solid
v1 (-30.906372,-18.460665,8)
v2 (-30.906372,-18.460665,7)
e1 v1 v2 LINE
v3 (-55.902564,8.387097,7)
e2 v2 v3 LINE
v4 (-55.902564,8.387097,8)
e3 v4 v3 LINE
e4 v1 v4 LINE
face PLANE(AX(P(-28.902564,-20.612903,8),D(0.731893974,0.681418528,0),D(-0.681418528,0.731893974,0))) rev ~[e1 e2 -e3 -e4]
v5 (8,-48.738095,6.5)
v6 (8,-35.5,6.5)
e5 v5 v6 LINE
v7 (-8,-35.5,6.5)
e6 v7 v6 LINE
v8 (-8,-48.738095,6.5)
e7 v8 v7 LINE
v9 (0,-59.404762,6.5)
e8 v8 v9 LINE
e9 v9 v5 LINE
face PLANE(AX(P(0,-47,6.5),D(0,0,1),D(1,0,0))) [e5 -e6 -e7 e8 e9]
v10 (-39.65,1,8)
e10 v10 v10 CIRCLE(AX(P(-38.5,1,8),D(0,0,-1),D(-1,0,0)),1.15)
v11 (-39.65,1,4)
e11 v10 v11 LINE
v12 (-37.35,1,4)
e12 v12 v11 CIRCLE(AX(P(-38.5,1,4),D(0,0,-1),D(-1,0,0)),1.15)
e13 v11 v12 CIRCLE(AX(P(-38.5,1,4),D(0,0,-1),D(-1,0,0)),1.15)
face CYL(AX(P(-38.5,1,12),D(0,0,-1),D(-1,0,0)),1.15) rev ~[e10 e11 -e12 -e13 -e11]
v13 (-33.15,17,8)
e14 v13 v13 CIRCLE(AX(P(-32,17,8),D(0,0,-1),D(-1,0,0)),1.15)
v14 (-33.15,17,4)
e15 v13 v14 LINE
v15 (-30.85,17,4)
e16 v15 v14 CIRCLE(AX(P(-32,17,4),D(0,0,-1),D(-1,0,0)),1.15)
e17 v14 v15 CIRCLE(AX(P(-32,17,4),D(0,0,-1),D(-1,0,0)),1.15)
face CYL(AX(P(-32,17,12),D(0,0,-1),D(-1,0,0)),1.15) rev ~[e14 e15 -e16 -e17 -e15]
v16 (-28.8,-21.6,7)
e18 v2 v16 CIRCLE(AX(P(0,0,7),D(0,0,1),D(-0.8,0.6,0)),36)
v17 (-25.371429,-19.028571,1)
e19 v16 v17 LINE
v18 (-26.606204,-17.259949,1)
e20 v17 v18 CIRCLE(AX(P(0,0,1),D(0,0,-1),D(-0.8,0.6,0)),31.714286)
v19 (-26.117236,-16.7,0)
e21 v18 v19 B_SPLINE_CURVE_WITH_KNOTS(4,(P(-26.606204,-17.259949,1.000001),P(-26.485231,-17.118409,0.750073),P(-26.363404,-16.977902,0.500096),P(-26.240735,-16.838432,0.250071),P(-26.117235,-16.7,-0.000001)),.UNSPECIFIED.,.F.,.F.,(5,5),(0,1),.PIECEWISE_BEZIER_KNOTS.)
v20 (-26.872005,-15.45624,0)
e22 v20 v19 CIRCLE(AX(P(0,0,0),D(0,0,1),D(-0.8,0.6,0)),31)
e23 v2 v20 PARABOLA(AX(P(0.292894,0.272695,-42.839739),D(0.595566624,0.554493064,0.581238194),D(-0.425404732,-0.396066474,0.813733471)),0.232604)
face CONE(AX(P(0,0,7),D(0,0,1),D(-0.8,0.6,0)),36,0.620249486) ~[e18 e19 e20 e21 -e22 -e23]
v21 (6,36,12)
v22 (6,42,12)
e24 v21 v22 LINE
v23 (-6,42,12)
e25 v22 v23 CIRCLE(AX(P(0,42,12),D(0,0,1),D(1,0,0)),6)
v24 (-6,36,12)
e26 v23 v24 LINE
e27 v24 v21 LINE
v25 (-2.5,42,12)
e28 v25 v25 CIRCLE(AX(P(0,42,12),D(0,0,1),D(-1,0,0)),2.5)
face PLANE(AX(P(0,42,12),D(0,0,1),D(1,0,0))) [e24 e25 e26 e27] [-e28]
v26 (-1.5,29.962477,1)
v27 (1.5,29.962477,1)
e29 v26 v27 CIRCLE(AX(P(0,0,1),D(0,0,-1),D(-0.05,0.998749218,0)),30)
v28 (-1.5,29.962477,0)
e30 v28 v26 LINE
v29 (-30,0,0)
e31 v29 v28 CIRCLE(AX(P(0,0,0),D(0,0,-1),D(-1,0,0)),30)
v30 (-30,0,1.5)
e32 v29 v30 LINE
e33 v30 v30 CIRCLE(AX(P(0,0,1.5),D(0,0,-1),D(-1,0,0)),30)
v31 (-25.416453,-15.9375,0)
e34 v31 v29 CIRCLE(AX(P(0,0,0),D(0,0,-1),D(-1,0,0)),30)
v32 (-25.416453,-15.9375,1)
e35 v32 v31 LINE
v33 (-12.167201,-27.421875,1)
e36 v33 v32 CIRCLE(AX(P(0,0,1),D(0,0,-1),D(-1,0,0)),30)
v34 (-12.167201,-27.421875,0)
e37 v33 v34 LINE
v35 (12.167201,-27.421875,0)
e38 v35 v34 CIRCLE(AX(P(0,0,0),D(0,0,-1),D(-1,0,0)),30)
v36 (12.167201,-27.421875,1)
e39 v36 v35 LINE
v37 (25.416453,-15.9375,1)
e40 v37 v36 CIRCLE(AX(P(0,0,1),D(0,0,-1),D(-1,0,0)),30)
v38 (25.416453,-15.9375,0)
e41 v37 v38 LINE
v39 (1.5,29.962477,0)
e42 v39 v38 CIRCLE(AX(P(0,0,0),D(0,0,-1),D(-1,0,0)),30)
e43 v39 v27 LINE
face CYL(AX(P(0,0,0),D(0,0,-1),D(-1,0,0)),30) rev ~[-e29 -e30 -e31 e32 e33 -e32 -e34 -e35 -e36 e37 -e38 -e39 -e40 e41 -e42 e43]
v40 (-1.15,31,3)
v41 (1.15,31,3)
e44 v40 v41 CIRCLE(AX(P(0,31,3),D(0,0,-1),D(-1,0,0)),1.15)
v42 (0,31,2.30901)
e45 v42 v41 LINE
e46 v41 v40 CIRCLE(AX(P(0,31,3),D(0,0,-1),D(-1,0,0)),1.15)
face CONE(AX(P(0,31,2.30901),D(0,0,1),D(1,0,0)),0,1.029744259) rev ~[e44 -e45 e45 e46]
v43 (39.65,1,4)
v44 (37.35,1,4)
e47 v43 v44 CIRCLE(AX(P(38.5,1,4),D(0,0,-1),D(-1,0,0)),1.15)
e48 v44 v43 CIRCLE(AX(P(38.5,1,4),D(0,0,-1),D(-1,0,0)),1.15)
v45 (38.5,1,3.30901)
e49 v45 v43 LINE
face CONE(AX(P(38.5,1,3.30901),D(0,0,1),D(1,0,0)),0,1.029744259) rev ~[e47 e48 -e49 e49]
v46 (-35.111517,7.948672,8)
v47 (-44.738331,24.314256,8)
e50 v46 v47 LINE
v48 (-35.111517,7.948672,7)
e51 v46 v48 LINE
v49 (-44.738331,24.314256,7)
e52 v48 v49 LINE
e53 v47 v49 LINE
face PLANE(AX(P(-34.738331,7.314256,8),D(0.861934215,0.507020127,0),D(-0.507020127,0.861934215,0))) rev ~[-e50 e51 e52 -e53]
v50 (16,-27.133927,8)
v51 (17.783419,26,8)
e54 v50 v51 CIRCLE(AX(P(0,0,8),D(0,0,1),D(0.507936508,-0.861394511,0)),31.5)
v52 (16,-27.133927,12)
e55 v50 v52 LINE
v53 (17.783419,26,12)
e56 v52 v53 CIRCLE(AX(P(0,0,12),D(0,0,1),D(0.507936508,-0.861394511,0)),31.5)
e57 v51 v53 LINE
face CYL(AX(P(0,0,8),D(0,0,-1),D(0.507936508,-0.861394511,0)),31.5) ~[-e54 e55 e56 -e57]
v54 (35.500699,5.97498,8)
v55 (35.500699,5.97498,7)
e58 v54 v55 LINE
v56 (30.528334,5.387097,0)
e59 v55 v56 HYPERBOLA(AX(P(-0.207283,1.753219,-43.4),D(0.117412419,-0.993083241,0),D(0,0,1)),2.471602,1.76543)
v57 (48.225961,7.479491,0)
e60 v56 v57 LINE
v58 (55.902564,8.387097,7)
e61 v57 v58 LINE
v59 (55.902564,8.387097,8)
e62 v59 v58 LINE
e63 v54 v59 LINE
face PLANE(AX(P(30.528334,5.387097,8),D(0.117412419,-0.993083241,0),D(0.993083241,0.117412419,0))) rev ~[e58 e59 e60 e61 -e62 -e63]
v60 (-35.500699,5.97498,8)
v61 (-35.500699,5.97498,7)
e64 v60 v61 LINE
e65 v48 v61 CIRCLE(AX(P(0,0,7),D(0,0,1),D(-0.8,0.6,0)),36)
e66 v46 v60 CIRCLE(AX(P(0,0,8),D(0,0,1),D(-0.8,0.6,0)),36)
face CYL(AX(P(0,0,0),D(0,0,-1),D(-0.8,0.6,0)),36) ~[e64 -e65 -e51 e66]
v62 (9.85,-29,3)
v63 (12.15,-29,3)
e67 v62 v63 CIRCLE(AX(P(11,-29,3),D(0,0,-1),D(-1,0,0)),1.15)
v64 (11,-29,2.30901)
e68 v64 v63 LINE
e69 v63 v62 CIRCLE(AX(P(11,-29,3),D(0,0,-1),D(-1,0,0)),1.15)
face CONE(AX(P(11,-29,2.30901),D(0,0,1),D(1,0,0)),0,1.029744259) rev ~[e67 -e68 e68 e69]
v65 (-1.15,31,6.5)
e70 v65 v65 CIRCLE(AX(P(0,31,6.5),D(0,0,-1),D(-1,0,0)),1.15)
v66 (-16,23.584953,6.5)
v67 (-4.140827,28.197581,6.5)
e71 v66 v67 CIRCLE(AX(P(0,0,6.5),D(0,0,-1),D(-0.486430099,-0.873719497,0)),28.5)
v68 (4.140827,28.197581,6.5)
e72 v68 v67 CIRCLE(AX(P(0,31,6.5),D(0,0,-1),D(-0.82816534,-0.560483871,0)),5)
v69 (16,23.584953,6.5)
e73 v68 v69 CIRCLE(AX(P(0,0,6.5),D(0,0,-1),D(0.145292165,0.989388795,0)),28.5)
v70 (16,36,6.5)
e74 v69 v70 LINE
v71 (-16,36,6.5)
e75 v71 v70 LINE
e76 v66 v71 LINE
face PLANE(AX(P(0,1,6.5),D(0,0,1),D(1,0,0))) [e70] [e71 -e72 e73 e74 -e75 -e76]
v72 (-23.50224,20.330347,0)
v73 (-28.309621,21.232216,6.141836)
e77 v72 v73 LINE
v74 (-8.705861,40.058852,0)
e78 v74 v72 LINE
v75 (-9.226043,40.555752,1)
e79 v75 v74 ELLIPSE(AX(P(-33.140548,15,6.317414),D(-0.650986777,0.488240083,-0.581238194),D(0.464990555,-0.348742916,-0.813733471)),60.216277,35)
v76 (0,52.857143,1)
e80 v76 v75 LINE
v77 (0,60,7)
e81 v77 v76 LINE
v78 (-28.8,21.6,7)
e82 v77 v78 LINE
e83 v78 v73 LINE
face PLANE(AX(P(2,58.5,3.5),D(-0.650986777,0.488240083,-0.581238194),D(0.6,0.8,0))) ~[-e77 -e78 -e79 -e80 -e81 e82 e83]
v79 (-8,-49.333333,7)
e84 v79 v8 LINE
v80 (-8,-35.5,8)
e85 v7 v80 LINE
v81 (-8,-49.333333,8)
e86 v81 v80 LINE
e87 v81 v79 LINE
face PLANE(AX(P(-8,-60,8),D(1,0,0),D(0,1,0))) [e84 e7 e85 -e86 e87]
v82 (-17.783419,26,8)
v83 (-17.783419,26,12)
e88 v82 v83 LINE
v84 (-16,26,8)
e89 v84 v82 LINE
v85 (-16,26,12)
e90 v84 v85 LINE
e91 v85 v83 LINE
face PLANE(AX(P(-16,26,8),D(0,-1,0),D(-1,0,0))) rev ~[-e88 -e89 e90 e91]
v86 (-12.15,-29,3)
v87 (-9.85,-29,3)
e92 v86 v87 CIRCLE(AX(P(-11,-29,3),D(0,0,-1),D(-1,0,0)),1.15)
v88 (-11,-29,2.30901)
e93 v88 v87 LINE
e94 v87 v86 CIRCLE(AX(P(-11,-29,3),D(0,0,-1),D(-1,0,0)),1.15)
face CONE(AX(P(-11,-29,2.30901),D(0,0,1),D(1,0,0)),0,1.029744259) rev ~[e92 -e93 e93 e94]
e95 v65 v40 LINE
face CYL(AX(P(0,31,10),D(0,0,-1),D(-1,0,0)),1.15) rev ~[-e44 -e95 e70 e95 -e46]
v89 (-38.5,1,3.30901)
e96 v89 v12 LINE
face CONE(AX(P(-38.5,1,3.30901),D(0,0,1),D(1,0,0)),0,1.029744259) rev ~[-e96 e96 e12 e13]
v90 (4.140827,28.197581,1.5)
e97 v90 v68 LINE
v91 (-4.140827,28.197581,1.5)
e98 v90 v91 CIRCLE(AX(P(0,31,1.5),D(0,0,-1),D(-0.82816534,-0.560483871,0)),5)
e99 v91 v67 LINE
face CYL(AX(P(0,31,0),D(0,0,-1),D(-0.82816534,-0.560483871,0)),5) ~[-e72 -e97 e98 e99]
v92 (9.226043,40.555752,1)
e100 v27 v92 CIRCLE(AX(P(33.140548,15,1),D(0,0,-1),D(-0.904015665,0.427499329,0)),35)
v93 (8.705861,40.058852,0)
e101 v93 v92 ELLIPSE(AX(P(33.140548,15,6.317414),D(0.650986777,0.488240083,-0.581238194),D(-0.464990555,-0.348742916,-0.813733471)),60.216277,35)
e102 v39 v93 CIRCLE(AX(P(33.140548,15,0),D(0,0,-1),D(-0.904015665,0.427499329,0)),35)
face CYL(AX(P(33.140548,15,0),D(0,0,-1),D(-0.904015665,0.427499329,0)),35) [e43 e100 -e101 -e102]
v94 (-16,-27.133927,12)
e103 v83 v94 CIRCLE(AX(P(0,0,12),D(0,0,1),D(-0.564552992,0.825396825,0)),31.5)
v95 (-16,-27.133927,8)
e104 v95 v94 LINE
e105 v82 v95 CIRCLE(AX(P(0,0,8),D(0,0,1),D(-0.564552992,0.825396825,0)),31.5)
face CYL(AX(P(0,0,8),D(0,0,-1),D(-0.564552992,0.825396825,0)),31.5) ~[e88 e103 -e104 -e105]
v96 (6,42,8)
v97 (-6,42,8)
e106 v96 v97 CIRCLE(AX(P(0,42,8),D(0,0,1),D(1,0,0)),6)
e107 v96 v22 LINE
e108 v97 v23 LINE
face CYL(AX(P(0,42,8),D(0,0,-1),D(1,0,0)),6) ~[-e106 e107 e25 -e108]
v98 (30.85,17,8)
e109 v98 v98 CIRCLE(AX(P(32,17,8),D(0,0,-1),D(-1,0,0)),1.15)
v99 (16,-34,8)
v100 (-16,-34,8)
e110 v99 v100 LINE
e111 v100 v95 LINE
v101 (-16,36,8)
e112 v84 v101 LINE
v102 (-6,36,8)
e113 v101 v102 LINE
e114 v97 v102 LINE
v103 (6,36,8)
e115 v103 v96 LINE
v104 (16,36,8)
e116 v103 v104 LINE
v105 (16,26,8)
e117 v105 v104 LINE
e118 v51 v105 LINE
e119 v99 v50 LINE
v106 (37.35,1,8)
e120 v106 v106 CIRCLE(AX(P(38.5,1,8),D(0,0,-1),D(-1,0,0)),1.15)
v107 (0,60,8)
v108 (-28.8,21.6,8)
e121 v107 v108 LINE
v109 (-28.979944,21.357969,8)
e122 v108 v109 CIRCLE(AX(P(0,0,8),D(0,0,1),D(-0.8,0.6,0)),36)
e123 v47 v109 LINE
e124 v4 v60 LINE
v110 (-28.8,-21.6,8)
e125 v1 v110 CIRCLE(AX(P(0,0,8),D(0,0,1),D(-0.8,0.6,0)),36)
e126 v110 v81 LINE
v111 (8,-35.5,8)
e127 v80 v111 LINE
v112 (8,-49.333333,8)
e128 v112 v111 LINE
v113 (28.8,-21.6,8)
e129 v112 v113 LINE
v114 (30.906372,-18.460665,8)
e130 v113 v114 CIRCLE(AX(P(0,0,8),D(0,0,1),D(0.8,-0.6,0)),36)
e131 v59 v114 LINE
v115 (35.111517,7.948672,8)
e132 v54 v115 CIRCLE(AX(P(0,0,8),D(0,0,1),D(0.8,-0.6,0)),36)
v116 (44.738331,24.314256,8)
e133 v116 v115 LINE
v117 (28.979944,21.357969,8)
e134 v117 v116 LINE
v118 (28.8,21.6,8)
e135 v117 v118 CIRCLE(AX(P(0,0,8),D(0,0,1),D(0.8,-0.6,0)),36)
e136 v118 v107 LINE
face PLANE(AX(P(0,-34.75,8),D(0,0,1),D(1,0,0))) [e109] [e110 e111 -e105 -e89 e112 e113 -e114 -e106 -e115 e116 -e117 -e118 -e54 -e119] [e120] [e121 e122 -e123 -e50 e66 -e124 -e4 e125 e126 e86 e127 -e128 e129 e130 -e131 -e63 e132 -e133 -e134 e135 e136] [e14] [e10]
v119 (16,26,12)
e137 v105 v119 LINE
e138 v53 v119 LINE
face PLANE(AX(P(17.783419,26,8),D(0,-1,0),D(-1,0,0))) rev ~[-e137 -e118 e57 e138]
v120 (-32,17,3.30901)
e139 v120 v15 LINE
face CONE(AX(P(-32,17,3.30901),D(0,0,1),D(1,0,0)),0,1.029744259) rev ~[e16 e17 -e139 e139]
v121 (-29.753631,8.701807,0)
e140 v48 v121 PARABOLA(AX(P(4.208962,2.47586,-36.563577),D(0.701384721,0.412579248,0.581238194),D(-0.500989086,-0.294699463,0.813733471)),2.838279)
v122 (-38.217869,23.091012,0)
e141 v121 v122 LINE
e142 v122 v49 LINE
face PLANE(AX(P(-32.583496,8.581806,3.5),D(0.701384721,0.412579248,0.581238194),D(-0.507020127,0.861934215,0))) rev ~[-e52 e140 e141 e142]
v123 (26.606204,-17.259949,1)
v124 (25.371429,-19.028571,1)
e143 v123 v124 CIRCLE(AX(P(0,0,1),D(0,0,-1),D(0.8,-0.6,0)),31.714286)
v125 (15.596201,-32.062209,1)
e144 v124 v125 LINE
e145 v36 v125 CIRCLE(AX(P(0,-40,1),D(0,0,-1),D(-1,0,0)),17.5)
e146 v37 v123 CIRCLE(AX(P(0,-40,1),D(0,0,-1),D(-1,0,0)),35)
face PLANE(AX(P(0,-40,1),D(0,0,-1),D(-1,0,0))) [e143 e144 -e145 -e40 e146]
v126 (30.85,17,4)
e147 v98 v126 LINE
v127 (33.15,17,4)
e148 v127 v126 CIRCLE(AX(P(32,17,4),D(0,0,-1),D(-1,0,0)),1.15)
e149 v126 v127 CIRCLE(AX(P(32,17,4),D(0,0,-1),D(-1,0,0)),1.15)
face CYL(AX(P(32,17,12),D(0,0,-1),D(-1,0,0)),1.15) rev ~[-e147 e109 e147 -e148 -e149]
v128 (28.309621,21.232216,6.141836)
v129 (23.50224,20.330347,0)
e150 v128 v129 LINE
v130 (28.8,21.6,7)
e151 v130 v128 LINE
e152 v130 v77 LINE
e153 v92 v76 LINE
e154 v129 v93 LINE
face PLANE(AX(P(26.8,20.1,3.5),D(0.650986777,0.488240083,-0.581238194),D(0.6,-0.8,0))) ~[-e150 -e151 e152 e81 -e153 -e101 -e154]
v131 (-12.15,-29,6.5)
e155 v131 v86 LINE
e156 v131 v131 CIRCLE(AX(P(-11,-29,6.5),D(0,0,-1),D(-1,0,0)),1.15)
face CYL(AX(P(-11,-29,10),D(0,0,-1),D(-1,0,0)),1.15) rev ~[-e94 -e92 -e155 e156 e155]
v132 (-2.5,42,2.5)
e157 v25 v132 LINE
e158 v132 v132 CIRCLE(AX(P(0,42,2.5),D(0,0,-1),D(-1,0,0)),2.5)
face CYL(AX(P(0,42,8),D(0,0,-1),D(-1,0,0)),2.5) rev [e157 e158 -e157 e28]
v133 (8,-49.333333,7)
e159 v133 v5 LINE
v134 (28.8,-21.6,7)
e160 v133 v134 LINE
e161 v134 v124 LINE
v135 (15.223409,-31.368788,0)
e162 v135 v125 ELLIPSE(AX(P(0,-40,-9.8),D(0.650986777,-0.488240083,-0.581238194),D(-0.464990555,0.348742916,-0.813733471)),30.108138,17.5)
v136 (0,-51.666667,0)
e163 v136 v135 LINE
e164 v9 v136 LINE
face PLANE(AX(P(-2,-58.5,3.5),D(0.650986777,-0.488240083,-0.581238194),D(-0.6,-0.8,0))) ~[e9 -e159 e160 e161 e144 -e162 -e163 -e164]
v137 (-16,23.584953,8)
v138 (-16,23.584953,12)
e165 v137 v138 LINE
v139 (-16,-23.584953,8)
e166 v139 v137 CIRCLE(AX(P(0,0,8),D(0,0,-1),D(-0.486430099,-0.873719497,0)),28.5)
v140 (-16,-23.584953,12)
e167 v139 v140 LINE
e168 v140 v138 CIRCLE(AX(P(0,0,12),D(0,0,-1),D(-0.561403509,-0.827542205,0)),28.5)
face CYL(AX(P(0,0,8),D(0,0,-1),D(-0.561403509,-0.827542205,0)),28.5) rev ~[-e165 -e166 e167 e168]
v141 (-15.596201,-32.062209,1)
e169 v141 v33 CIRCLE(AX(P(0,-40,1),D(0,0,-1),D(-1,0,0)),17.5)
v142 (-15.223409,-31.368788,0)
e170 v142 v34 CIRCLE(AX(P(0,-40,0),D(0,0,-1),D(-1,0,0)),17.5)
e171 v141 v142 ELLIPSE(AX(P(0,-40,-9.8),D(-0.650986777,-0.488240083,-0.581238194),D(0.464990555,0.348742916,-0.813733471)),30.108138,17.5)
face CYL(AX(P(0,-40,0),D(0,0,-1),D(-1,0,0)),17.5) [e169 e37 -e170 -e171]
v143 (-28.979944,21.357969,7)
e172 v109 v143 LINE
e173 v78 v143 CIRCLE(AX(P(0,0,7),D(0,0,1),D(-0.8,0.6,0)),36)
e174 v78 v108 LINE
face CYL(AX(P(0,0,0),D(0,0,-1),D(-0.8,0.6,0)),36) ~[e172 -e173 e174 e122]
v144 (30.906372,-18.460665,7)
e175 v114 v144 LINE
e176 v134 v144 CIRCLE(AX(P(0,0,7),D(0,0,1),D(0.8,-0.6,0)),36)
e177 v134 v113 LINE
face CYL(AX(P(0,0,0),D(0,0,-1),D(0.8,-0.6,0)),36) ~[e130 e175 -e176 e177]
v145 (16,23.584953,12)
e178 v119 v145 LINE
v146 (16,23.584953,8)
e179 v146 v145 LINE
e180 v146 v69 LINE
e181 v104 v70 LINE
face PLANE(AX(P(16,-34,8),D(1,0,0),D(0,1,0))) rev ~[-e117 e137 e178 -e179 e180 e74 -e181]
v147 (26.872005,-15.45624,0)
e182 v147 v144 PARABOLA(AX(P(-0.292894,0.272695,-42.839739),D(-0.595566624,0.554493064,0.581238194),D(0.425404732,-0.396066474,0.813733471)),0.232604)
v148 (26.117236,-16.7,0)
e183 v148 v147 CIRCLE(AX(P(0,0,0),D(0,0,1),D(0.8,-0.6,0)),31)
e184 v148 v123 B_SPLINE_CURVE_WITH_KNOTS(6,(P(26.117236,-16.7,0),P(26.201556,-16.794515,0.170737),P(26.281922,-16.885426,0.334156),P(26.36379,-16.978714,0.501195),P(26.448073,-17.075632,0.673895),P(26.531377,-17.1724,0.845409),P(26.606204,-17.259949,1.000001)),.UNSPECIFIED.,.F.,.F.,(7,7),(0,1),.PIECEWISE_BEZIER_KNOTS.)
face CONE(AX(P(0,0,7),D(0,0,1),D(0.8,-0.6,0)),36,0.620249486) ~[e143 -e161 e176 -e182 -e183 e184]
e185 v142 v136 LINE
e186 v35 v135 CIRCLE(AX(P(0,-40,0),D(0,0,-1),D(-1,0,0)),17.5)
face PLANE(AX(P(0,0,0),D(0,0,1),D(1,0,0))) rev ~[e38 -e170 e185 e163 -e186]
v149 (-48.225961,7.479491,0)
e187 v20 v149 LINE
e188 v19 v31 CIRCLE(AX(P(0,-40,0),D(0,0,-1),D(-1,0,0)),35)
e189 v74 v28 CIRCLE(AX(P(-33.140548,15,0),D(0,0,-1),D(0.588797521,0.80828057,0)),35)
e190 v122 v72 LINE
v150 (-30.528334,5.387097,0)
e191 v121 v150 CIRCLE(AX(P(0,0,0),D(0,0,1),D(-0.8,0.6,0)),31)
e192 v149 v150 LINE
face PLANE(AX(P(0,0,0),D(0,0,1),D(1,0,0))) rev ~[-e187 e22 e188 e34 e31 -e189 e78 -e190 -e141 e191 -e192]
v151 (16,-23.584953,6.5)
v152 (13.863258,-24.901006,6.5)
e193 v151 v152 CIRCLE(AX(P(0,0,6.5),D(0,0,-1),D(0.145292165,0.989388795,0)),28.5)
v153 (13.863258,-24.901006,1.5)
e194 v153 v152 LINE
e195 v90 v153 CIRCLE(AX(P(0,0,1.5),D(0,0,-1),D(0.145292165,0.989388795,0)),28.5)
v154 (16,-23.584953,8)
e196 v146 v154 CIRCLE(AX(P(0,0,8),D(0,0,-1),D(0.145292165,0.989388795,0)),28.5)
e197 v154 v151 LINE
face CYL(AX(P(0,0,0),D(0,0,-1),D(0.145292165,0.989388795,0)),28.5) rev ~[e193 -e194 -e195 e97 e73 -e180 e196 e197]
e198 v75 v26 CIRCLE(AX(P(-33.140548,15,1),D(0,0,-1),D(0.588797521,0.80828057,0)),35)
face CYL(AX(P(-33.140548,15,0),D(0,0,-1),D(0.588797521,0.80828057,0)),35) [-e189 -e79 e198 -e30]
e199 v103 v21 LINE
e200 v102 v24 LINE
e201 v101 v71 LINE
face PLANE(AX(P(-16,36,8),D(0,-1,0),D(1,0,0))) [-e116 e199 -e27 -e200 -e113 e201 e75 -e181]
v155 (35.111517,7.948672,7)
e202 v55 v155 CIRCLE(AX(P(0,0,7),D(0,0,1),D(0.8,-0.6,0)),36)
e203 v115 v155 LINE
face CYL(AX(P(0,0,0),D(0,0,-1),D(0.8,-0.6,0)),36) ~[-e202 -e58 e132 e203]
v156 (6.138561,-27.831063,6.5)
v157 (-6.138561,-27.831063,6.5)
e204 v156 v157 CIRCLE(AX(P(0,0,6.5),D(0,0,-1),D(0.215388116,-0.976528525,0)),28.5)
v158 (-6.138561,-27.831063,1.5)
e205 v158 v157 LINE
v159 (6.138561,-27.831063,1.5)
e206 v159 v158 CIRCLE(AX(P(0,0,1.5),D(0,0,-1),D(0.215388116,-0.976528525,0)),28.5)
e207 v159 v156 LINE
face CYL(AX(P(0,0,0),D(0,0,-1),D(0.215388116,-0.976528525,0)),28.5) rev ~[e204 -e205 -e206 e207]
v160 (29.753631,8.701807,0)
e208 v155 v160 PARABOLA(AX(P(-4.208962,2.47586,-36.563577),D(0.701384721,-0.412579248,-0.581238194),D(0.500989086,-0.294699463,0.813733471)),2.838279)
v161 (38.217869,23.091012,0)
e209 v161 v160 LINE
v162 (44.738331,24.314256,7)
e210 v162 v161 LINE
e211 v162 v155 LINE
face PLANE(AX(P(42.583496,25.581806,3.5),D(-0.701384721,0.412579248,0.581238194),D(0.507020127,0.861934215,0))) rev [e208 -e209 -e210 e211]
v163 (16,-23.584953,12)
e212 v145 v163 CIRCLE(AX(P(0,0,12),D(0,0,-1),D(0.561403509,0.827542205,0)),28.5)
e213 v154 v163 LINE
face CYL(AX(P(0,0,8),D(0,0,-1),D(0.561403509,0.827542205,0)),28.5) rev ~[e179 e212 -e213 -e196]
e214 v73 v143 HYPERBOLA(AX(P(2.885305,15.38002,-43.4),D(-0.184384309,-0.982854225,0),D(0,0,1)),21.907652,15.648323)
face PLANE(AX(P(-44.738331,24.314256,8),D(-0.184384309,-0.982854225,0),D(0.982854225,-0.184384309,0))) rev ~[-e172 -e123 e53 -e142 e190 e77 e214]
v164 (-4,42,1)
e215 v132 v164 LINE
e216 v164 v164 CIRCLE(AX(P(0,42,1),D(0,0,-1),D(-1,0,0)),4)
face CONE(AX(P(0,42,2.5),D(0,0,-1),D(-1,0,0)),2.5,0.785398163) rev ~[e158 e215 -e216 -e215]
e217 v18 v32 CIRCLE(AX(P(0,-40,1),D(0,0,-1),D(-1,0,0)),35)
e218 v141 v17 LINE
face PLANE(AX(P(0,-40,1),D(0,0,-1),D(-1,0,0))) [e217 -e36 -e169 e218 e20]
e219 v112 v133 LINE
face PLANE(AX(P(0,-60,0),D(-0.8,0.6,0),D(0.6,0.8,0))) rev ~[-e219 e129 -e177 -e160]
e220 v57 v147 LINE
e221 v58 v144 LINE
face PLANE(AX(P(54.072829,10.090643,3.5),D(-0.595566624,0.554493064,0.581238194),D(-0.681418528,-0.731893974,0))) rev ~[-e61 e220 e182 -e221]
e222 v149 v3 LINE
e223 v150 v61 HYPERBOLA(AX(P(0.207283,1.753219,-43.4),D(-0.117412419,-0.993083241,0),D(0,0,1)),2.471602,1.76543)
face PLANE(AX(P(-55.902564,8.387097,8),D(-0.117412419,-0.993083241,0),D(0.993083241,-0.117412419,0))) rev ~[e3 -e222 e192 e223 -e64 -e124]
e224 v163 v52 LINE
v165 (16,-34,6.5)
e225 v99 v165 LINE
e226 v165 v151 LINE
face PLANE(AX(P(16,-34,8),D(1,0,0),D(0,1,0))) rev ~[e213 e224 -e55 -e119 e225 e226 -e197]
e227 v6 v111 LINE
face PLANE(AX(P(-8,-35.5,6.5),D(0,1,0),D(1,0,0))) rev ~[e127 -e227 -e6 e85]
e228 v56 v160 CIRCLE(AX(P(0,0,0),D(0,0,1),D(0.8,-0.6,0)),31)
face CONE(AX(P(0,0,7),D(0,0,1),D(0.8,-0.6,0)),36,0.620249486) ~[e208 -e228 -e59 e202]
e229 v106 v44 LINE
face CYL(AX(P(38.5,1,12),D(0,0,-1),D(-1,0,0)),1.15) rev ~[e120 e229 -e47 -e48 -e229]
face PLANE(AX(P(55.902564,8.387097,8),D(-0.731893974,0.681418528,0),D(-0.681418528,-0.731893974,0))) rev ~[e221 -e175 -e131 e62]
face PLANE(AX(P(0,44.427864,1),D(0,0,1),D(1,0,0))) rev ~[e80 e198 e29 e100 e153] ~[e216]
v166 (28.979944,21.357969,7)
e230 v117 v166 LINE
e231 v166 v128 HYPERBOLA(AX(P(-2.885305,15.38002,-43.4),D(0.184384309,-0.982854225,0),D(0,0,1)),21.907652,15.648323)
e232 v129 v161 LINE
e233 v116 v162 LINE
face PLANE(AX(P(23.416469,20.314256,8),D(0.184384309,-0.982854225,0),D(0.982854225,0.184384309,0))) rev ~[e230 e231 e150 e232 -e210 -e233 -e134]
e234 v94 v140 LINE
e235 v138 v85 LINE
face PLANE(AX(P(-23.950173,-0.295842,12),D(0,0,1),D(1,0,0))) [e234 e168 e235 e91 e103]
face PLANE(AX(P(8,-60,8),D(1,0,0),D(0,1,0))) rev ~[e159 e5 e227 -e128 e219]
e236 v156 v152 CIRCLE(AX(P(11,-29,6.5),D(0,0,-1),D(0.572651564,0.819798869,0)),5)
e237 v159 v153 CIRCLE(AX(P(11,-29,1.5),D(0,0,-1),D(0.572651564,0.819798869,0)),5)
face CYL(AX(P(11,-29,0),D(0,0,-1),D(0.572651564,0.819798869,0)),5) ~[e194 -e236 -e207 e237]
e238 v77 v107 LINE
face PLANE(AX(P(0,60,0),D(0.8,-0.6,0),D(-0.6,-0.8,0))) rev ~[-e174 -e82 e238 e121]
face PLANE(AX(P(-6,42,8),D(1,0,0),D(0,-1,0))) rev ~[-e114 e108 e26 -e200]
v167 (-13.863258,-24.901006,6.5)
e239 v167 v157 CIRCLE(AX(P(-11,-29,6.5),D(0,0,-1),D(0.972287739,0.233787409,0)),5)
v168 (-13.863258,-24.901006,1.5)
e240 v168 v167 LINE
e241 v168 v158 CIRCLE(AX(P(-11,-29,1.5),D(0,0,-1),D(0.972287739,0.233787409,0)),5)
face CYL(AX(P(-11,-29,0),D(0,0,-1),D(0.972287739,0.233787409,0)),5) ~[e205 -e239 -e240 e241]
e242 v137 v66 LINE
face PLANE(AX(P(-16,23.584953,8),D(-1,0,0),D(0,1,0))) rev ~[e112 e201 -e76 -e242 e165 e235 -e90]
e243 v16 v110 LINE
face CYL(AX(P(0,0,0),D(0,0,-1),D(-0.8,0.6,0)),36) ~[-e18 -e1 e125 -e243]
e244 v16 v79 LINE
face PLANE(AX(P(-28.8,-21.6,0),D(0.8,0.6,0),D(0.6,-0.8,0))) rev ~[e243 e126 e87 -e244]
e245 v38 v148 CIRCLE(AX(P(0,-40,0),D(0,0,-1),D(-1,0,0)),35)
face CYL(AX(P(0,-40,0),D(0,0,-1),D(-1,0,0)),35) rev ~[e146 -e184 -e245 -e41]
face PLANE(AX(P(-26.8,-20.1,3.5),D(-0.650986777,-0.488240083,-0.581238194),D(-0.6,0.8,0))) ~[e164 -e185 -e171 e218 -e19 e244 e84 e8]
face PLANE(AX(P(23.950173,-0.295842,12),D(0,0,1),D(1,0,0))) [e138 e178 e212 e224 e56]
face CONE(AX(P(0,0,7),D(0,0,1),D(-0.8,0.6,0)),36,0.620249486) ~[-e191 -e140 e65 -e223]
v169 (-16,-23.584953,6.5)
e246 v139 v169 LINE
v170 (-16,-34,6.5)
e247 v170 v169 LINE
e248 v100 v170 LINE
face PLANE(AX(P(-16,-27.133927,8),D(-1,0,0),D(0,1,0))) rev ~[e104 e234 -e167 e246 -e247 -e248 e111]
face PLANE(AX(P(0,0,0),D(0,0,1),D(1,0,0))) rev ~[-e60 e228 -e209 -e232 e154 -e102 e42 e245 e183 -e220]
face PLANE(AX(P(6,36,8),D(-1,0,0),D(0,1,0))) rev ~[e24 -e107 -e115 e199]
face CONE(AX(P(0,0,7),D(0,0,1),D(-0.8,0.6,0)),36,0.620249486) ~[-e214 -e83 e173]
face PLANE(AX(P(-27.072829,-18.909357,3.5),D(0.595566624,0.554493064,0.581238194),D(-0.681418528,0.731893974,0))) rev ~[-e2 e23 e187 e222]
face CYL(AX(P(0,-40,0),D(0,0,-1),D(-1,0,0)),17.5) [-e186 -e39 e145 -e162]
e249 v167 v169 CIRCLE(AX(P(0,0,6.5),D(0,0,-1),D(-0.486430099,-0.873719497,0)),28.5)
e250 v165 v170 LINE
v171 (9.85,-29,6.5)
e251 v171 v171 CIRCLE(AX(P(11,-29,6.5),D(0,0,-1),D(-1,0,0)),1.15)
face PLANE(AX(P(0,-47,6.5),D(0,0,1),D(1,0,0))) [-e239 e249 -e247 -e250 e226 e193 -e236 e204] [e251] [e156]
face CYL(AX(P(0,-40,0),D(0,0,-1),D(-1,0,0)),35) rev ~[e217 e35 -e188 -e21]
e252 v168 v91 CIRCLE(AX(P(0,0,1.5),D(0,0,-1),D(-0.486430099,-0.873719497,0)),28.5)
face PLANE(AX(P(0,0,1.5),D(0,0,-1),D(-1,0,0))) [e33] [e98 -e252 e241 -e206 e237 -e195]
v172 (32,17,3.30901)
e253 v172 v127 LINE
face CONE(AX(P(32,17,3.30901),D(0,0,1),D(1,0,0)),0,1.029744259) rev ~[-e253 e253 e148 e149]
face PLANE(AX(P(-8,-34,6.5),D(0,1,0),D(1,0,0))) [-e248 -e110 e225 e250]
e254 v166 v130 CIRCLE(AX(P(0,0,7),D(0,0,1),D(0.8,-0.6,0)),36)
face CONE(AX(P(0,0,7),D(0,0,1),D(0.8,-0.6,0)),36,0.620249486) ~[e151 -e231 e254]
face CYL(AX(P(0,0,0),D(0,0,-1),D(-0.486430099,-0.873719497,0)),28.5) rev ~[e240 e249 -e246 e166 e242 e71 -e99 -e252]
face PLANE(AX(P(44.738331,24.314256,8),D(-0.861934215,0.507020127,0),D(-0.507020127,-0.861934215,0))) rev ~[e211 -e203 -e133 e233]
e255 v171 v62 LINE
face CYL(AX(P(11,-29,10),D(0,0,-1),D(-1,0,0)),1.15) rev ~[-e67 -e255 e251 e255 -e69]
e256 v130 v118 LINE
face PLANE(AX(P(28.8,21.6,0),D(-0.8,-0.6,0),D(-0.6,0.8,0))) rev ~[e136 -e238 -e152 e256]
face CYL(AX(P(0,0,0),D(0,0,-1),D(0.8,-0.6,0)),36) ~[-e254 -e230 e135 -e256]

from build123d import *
from OCP.BRepFilletAPI import BRepFilletAPI_MakeChamfer

# Parameters (mm, degrees)
EXTRUDE_1_DEPTH          = 8
CHAMFER_12_SIZE          = 7
CHAMFER_12_SIZE2         = 5
SKETCH_11_R              = 30
CUT_EXTRUDE_1_DEPTH      = 1.5
EXTRUDE_5_DEPTH          = 8
EXTRUDE_5_2_DEPTH        = 8
EXTRUDE_5_3_DEPTH        = 8
EXTRUDE_5_4_DEPTH        = 8
CHAMFER_13_SIZE          = 5
CHAMFER_13_SIZE2         = 7
CHAMFER_14_SIZE          = 5
CHAMFER_14_SIZE2         = 7
CHAMFER_15_SIZE          = 7
CHAMFER_15_SIZE2         = 5
CHAMFER_16_SIZE          = 5
CHAMFER_16_SIZE2         = 7
SKETCH_23_W              = 32
SKETCH_23_H              = 70
CUT_EXTRUDE_7_DEPTH      = 1.5
SKETCH_13_W              = 16
SKETCH_13_H              = 26
CUT_EXTRUDE_2_DEPTH      = 1.5
HOLE_WIZARD_M2_24_D      = 2.3
HOLE_WIZARD_M2_24_DEPTH  = 3.5
HOLE_WIZARD_M2_24_TIP    = 0.690989712
EXTRUDE_6_DEPTH          = 4
HOLE_WIZARD_M2_25_D      = 2.3
HOLE_WIZARD_M2_25_DEPTH  = 4
HOLE_WIZARD_M2_25_TIP    = 0.690989712
CUT_EXTRUDE_8_DEPTH      = 83.880013818
CUT_EXTRUDE_8_DEPTH_BACK = 83.880013818
SKETCH_32_R              = 2.5
SKETCH_33_W              = 16
SKETCH_33_H              = 1.5
EXTRUDE_7_DEPTH          = 1.5
SKETCH_34_R              = 6
SKETCH_34_R_2            = 2.5
EXTRUDE_8_DEPTH          = 4
CUT_EXTRUDE_9_DEPTH      = 1
SKETCH_15_R              = 35
SKETCH_15_R_2            = 17.5
CUT_EXTRUDE_10_DEPTH     = 1
CHAMFER_18_SIZE          = 1.5


with BuildPart() as part:
    # Эскиз1 → Бобышка-Вытянуть1 (new body)
    with BuildSketch(Plane.XY):
        with BuildLine():
            Line((28.8, 21.6), (0, 60))
            Line((0, 60), (-28.8, 21.6))
            ThreePointArc((-28.8, 21.6), (-36, 0), (-28.8, -21.6))
            Line((-28.8, -21.6), (0, -60))
            Line((0, -60), (28.8, -21.6))
            ThreePointArc((28.8, -21.6), (36, 0), (28.8, 21.6))
        make_face()
        with BuildLine():
            ThreePointArc((4.1408267, 28.197580645), (28.033938924, 5.133056438), (13.863257821, -24.901005654))
            ThreePointArc((13.863257821, -24.901005654), (9.226728829, -24.325012368), (6.138561306, -27.831062953))
            ThreePointArc((6.138561306, -27.831062953), (0, -28.5), (-6.138561306, -27.831062953))
            ThreePointArc((-6.138561306, -27.831062953), (-9.226728829, -24.325012368), (-13.863257821, -24.901005654))
            ThreePointArc((-13.863257821, -24.901005654), (-28.033938924, 5.133056438), (-4.1408267, 28.197580645))
            ThreePointArc((-4.1408267, 28.197580645), (0, 26), (4.1408267, 28.197580645))
        make_face(mode=Mode.SUBTRACT)
    extrude(amount=EXTRUDE_1_DEPTH)

    # Фаска12: one chamfer whose edges measure the first distance from different faces: ONE call of the kernel's chamfer builder (chamfer() names one face for all edges)
    chamfer_12_edges_1 = [part.edges().sort_by_distance(p)[0] for p in [
        (14.4, 40.8, 0),
    ]]
    chamfer_12_side_1 = [part.faces().sort_by_distance(p)[0] for p in [
        (14.4, 40.8, 4),
    ]]
    chamfer_12_edges_2 = [part.edges().sort_by_distance(p)[0] for p in [
        (36, 0, 0),
    ]]
    chamfer_12_side_2 = [part.faces().sort_by_distance(p)[0] for p in [
        (36, 0, 4),
    ]]
    chamfer_12_edges_3 = [part.edges().sort_by_distance(p)[0] for p in [
        (14.4, -40.8, 0),
    ]]
    chamfer_12_side_3 = [part.faces().sort_by_distance(p)[0] for p in [
        (14.4, -40.8, 4),
    ]]
    chamfer_12_edges_4 = [part.edges().sort_by_distance(p)[0] for p in [
        (-14.4, -40.8, 0),
    ]]
    chamfer_12_side_4 = [part.faces().sort_by_distance(p)[0] for p in [
        (-14.4, -40.8, 4),
    ]]
    chamfer_12_edges_5 = [part.edges().sort_by_distance(p)[0] for p in [
        (-36, 0, 0),
    ]]
    chamfer_12_side_5 = [part.faces().sort_by_distance(p)[0] for p in [
        (-36, 0, 4),
    ]]
    chamfer_12_edges_6 = [part.edges().sort_by_distance(p)[0] for p in [
        (-14.4, 40.8, 0),
    ]]
    chamfer_12_side_6 = [part.faces().sort_by_distance(p)[0] for p in [
        (-14.4, 40.8, 4),
    ]]
    chamfer_12 = BRepFilletAPI_MakeChamfer(part.part.solid().wrapped)
    for e in chamfer_12_edges_1:
        chamfer_12.Add(CHAMFER_12_SIZE, CHAMFER_12_SIZE2, e.wrapped, chamfer_12_side_1[0].wrapped)  # the first distance lies on this face
    for e in chamfer_12_edges_2:
        chamfer_12.Add(CHAMFER_12_SIZE, CHAMFER_12_SIZE2, e.wrapped, chamfer_12_side_2[0].wrapped)  # the first distance lies on this face
    for e in chamfer_12_edges_3:
        chamfer_12.Add(CHAMFER_12_SIZE, CHAMFER_12_SIZE2, e.wrapped, chamfer_12_side_3[0].wrapped)  # the first distance lies on this face
    for e in chamfer_12_edges_4:
        chamfer_12.Add(CHAMFER_12_SIZE, CHAMFER_12_SIZE2, e.wrapped, chamfer_12_side_4[0].wrapped)  # the first distance lies on this face
    for e in chamfer_12_edges_5:
        chamfer_12.Add(CHAMFER_12_SIZE, CHAMFER_12_SIZE2, e.wrapped, chamfer_12_side_5[0].wrapped)  # the first distance lies on this face
    for e in chamfer_12_edges_6:
        chamfer_12.Add(CHAMFER_12_SIZE, CHAMFER_12_SIZE2, e.wrapped, chamfer_12_side_6[0].wrapped)  # the first distance lies on this face
    add(Compound.cast(chamfer_12.Shape()), mode=Mode.REPLACE)

    # Эскиз11 → Вырез-Вытянуть1 (cut)
    with BuildSketch(Plane(origin=(0, 0, 0), x_dir=(-1, 0, 0), z_dir=(0, 0, -1))):
        Circle(SKETCH_11_R)
    extrude(amount=-CUT_EXTRUDE_1_DEPTH, mode=Mode.SUBTRACT)


with BuildPart() as body_2:
    # Эскиз17 → Бобышка-Вытянуть5 (new body)
    with BuildSketch(Plane(origin=(0, 0, 8), x_dir=(-1, 0, 0), z_dir=(0, 0, -1))):
        with BuildLine():
            Line((25.238858928, -18), (28.902564257, -20.612903226))
            Line((28.902564257, -20.612903226), (55.902564257, 8.387096774))
            Line((55.902564257, 8.387096774), (30.528334189, 5.387096774))
            ThreePointArc((30.528334189, 5.387096774), (30.236303195, -6.838564841), (25.238858928, -18))
        make_face()
    extrude(amount=EXTRUDE_5_DEPTH)

    # Фаска13
    chamfer_13_edges = [body_2.edges().sort_by_distance(p)[0] for p in [
        (-42.402564257, -6.112903226, 0),
    ]]
    chamfer_13_side = [body_2.faces().sort_by_distance(p)[0] for p in [
        (-38.046204164, -3.085883691, 0),
    ]]
    chamfer(chamfer_13_edges, length=CHAMFER_13_SIZE, length2=CHAMFER_13_SIZE2, reference=chamfer_13_side[0])


with BuildPart() as body_3:
    # Эскиз17 → Extrude 5 2 (new body)
    with BuildSketch(Plane(origin=(0, 0, 8), x_dir=(-1, 0, 0), z_dir=(0, 0, -1))):
        with BuildLine():
            Line((-28.902564257, -20.612903226), (-25.238858928, -18))
            ThreePointArc((-25.238858928, -18), (-30.236303195, -6.838564841), (-30.528334189, 5.387096774))
            Line((-30.528334189, 5.387096774), (-55.902564257, 8.387096774))
            Line((-55.902564257, 8.387096774), (-28.902564257, -20.612903226))
        make_face()
    extrude(amount=EXTRUDE_5_2_DEPTH)

    # Фаска14
    chamfer_14_edges = [body_3.edges().sort_by_distance(p)[0] for p in [
        (42.402564257, -6.112903226, 0),
    ]]
    chamfer_14_side = [body_3.faces().sort_by_distance(p)[0] for p in [
        (38.046204164, -3.085883691, 0),
    ]]
    chamfer(chamfer_14_edges, length=CHAMFER_14_SIZE, length2=CHAMFER_14_SIZE2, reference=chamfer_14_side[0])


with BuildPart() as body_4:
    # Эскиз17 → Extrude 5 3 (new body)
    with BuildSketch(Plane(origin=(0, 0, 8), x_dir=(-1, 0, 0), z_dir=(0, 0, -1))):
        with BuildLine():
            ThreePointArc((23.416468646, 20.314255983), (27.763165047, 13.791543298), (30.334880827, 6.387096774))
            Line((30.334880827, 6.387096774), (34.73833127, 7.314255983))
            Line((34.73833127, 7.314255983), (44.73833127, 24.314255983))
            Line((44.73833127, 24.314255983), (23.416468646, 20.314255983))
        make_face()
    extrude(amount=EXTRUDE_5_3_DEPTH)

    # Фаска16
    chamfer_16_edges = [body_4.edges().sort_by_distance(p)[0] for p in [
        (-39.73833127, 15.814255983, 0),
    ]]
    chamfer_16_side = [body_4.faces().sort_by_distance(p)[0] for p in [
        (-33.811855358, 16.430209574, 0),
    ]]
    chamfer(chamfer_16_edges, length=CHAMFER_16_SIZE, length2=CHAMFER_16_SIZE2, reference=chamfer_16_side[0])


with BuildPart() as body_5:
    # Эскиз17 → Extrude 5 4 (new body)
    with BuildSketch(Plane(origin=(0, 0, 8), x_dir=(-1, 0, 0), z_dir=(0, 0, -1))):
        with BuildLine():
            Line((-34.73833127, 7.314255983), (-30.334880827, 6.387096774))
            ThreePointArc((-30.334880827, 6.387096774), (-27.763165047, 13.791543298), (-23.416468646, 20.314255983))
            Line((-23.416468646, 20.314255983), (-44.73833127, 24.314255983))
            Line((-44.73833127, 24.314255983), (-34.73833127, 7.314255983))
        make_face()
    extrude(amount=EXTRUDE_5_4_DEPTH)

    # Фаска15
    chamfer_15_edges = [body_5.edges().sort_by_distance(p)[0] for p in [
        (39.73833127, 15.814255983, 0),
    ]]
    chamfer_15_side = [body_5.faces().sort_by_distance(p)[0] for p in [
        (39.73833127, 15.814255983, 4),
    ]]
    chamfer(chamfer_15_edges, length=CHAMFER_15_SIZE, length2=CHAMFER_15_SIZE2, reference=chamfer_15_side[0])


with BuildPart() as body_2_1:
    add(body_2.part)

    # Combine 2: union body 3, body 5, body 4, part
    add(body_3.part)
    add(body_5.part)
    add(body_4.part)
    add(part.part)

    # Эскиз23 → Вырез-Вытянуть7 (cut)
    with BuildSketch(Plane.XY.offset(8)):
        with Locations((0, 1)):
            Rectangle(SKETCH_23_W, SKETCH_23_H)
    extrude(amount=-CUT_EXTRUDE_7_DEPTH, mode=Mode.SUBTRACT)

    # Эскиз13 → Вырез-Вытянуть2 (cut)
    with BuildSketch(Plane.XY.offset(8)):
        with Locations((0, -47)):
            Rectangle(SKETCH_13_W, SKETCH_13_H)
    extrude(amount=-CUT_EXTRUDE_2_DEPTH, mode=Mode.SUBTRACT)

    # Сверло под метчик  спиральное M2.24
    with Locations(Plane.XY.offset(6.5)):
        with Locations((0, 31), (-11, -29), (11, -29)):
            Hole(HOLE_WIZARD_M2_24_D / 2, depth=HOLE_WIZARD_M2_24_DEPTH)
            with Locations((0, 0, -(HOLE_WIZARD_M2_24_DEPTH + HOLE_WIZARD_M2_24_TIP / 2))):  # 118° drill point
                Cone(0, HOLE_WIZARD_M2_24_D / 2, HOLE_WIZARD_M2_24_TIP, mode=Mode.SUBTRACT)

    # Эскиз28 → Бобышка-Вытянуть6 (add)
    with BuildSketch(Plane.XY.offset(8)):
        with BuildLine():
            Line((-16, 23.58495283), (-16, 26))
            Line((-16, 26), (-17.783419244, 26))
            ThreePointArc((-17.783419244, 26), (-31.482271301, -1.056689982), (-16, -27.133927102))
            Line((-16, -27.133927102), (-16, -23.58495283))
            ThreePointArc((-16, -23.58495283), (-28.5, 0), (-16, 23.58495283))
        make_face()
        with BuildLine():
            Line((17.783419244, 26), (16, 26))
            Line((16, 26), (16, 23.58495283))
            ThreePointArc((16, 23.58495283), (28.5, 0), (16, -23.58495283))
            Line((16, -23.58495283), (16, -27.133927102))
            ThreePointArc((16, -27.133927102), (31.482271301, -1.056689982), (17.783419244, 26))
        make_face()
    extrude(amount=EXTRUDE_6_DEPTH)

    # Сверло под метчик  спиральное M2.25
    with Locations(Plane.XY.offset(8)):
        with Locations((-32, 17), (-38.5, 1), (32, 17), (38.5, 1)):
            Hole(HOLE_WIZARD_M2_25_D / 2, depth=HOLE_WIZARD_M2_25_DEPTH)
            with Locations((0, 0, -(HOLE_WIZARD_M2_25_DEPTH + HOLE_WIZARD_M2_25_TIP / 2))):  # 118° drill point
                Cone(0, HOLE_WIZARD_M2_25_D / 2, HOLE_WIZARD_M2_25_TIP, mode=Mode.SUBTRACT)

    # Эскиз32 → Вырез-Вытянуть8 (cut, two sides: drawn at the far end of the back side and taken through both)
    with BuildSketch(Plane(origin=(0, 0, 0), x_dir=(-1, 0, 0), z_dir=(0, 0, -1)).offset(-CUT_EXTRUDE_8_DEPTH_BACK)):
        with Locations((0, 42)):
            Circle(SKETCH_32_R)
    extrude(amount=CUT_EXTRUDE_8_DEPTH + CUT_EXTRUDE_8_DEPTH_BACK, mode=Mode.SUBTRACT)

    # Эскиз33 → Бобышка-Вытянуть7 (add)
    with BuildSketch(Plane.XY.offset(6.5)):
        with Locations((0, -34.75)):
            Rectangle(SKETCH_33_W, SKETCH_33_H)
    extrude(amount=EXTRUDE_7_DEPTH)

    # Эскиз34 → Бобышка-Вытянуть8 (add)
    # profile 1 of 3: a face of its own
    with BuildSketch(Plane.XY.offset(8)):
        with Locations((0, 42)):
            Circle(SKETCH_34_R)
        with Locations(Location((0, 42, 0), (0, 0, 180))):
            Circle(SKETCH_34_R_2, mode=Mode.SUBTRACT)
    # profile 2 of 3: a face of its own
    with BuildSketch(Plane.XY.offset(8)):
        with BuildLine():
            Line((6, 36), (6, 42))
            ThreePointArc((6, 42), (4.242640713, 37.757359339), (7.3e-08, 36))
            Line((7.3e-08, 36), (6, 36))
        make_face()
    # profile 3 of 3: a face of its own
    with BuildSketch(Plane.XY.offset(8)):
        with BuildLine():
            ThreePointArc((7.3e-08, 36), (-4.242640661, 37.757359287), (-6, 42))
            Line((-6, 42), (-6, 36))
            Line((-6, 36), (7.3e-08, 36))
        make_face()
    extrude(amount=EXTRUDE_8_DEPTH)

    # Эскиз18 → Вырез-Вытянуть9 (cut)
    with BuildSketch(Plane(origin=(0, 0, 0), x_dir=(-1, 0, 0), z_dir=(0, 0, -1))):
        with BuildLine():
            Line((-12.532635049, 43.289819934), (0, 60))
            Line((0, 60), (12.532635049, 43.289819934))
            ThreePointArc((12.532635049, 43.289819934), (6.179836993, 37.318603148), (1.5, 29.962476533))
            ThreePointArc((1.5, 29.962476533), (0, 30), (-1.5, 29.962476533))
            ThreePointArc((-1.5, 29.962476533), (-6.179836993, 37.318603148), (-12.532635049, 43.289819934))
        make_face()
    extrude(amount=-CUT_EXTRUDE_9_DEPTH, mode=Mode.SUBTRACT)

    # Эскиз15 → Вырез-Вытянуть10 (cut)
    with BuildSketch(Plane(origin=(0, 0, 0), x_dir=(-1, 0, 0), z_dir=(0, 0, -1))):
        with Locations((0, -40)):
            Circle(SKETCH_15_R)
        with Locations((0, -40)):
            Circle(SKETCH_15_R_2, mode=Mode.SUBTRACT)
    extrude(amount=-CUT_EXTRUDE_10_DEPTH, mode=Mode.SUBTRACT)

    # Фаска18
    chamfer_18_edges = [body_2_1.edges().sort_by_distance(p)[0] for p in [
        (2.5, 42, 1),
    ]]
    chamfer(chamfer_18_edges, length=CHAMFER_18_SIZE)


solid = body_2_1.part
